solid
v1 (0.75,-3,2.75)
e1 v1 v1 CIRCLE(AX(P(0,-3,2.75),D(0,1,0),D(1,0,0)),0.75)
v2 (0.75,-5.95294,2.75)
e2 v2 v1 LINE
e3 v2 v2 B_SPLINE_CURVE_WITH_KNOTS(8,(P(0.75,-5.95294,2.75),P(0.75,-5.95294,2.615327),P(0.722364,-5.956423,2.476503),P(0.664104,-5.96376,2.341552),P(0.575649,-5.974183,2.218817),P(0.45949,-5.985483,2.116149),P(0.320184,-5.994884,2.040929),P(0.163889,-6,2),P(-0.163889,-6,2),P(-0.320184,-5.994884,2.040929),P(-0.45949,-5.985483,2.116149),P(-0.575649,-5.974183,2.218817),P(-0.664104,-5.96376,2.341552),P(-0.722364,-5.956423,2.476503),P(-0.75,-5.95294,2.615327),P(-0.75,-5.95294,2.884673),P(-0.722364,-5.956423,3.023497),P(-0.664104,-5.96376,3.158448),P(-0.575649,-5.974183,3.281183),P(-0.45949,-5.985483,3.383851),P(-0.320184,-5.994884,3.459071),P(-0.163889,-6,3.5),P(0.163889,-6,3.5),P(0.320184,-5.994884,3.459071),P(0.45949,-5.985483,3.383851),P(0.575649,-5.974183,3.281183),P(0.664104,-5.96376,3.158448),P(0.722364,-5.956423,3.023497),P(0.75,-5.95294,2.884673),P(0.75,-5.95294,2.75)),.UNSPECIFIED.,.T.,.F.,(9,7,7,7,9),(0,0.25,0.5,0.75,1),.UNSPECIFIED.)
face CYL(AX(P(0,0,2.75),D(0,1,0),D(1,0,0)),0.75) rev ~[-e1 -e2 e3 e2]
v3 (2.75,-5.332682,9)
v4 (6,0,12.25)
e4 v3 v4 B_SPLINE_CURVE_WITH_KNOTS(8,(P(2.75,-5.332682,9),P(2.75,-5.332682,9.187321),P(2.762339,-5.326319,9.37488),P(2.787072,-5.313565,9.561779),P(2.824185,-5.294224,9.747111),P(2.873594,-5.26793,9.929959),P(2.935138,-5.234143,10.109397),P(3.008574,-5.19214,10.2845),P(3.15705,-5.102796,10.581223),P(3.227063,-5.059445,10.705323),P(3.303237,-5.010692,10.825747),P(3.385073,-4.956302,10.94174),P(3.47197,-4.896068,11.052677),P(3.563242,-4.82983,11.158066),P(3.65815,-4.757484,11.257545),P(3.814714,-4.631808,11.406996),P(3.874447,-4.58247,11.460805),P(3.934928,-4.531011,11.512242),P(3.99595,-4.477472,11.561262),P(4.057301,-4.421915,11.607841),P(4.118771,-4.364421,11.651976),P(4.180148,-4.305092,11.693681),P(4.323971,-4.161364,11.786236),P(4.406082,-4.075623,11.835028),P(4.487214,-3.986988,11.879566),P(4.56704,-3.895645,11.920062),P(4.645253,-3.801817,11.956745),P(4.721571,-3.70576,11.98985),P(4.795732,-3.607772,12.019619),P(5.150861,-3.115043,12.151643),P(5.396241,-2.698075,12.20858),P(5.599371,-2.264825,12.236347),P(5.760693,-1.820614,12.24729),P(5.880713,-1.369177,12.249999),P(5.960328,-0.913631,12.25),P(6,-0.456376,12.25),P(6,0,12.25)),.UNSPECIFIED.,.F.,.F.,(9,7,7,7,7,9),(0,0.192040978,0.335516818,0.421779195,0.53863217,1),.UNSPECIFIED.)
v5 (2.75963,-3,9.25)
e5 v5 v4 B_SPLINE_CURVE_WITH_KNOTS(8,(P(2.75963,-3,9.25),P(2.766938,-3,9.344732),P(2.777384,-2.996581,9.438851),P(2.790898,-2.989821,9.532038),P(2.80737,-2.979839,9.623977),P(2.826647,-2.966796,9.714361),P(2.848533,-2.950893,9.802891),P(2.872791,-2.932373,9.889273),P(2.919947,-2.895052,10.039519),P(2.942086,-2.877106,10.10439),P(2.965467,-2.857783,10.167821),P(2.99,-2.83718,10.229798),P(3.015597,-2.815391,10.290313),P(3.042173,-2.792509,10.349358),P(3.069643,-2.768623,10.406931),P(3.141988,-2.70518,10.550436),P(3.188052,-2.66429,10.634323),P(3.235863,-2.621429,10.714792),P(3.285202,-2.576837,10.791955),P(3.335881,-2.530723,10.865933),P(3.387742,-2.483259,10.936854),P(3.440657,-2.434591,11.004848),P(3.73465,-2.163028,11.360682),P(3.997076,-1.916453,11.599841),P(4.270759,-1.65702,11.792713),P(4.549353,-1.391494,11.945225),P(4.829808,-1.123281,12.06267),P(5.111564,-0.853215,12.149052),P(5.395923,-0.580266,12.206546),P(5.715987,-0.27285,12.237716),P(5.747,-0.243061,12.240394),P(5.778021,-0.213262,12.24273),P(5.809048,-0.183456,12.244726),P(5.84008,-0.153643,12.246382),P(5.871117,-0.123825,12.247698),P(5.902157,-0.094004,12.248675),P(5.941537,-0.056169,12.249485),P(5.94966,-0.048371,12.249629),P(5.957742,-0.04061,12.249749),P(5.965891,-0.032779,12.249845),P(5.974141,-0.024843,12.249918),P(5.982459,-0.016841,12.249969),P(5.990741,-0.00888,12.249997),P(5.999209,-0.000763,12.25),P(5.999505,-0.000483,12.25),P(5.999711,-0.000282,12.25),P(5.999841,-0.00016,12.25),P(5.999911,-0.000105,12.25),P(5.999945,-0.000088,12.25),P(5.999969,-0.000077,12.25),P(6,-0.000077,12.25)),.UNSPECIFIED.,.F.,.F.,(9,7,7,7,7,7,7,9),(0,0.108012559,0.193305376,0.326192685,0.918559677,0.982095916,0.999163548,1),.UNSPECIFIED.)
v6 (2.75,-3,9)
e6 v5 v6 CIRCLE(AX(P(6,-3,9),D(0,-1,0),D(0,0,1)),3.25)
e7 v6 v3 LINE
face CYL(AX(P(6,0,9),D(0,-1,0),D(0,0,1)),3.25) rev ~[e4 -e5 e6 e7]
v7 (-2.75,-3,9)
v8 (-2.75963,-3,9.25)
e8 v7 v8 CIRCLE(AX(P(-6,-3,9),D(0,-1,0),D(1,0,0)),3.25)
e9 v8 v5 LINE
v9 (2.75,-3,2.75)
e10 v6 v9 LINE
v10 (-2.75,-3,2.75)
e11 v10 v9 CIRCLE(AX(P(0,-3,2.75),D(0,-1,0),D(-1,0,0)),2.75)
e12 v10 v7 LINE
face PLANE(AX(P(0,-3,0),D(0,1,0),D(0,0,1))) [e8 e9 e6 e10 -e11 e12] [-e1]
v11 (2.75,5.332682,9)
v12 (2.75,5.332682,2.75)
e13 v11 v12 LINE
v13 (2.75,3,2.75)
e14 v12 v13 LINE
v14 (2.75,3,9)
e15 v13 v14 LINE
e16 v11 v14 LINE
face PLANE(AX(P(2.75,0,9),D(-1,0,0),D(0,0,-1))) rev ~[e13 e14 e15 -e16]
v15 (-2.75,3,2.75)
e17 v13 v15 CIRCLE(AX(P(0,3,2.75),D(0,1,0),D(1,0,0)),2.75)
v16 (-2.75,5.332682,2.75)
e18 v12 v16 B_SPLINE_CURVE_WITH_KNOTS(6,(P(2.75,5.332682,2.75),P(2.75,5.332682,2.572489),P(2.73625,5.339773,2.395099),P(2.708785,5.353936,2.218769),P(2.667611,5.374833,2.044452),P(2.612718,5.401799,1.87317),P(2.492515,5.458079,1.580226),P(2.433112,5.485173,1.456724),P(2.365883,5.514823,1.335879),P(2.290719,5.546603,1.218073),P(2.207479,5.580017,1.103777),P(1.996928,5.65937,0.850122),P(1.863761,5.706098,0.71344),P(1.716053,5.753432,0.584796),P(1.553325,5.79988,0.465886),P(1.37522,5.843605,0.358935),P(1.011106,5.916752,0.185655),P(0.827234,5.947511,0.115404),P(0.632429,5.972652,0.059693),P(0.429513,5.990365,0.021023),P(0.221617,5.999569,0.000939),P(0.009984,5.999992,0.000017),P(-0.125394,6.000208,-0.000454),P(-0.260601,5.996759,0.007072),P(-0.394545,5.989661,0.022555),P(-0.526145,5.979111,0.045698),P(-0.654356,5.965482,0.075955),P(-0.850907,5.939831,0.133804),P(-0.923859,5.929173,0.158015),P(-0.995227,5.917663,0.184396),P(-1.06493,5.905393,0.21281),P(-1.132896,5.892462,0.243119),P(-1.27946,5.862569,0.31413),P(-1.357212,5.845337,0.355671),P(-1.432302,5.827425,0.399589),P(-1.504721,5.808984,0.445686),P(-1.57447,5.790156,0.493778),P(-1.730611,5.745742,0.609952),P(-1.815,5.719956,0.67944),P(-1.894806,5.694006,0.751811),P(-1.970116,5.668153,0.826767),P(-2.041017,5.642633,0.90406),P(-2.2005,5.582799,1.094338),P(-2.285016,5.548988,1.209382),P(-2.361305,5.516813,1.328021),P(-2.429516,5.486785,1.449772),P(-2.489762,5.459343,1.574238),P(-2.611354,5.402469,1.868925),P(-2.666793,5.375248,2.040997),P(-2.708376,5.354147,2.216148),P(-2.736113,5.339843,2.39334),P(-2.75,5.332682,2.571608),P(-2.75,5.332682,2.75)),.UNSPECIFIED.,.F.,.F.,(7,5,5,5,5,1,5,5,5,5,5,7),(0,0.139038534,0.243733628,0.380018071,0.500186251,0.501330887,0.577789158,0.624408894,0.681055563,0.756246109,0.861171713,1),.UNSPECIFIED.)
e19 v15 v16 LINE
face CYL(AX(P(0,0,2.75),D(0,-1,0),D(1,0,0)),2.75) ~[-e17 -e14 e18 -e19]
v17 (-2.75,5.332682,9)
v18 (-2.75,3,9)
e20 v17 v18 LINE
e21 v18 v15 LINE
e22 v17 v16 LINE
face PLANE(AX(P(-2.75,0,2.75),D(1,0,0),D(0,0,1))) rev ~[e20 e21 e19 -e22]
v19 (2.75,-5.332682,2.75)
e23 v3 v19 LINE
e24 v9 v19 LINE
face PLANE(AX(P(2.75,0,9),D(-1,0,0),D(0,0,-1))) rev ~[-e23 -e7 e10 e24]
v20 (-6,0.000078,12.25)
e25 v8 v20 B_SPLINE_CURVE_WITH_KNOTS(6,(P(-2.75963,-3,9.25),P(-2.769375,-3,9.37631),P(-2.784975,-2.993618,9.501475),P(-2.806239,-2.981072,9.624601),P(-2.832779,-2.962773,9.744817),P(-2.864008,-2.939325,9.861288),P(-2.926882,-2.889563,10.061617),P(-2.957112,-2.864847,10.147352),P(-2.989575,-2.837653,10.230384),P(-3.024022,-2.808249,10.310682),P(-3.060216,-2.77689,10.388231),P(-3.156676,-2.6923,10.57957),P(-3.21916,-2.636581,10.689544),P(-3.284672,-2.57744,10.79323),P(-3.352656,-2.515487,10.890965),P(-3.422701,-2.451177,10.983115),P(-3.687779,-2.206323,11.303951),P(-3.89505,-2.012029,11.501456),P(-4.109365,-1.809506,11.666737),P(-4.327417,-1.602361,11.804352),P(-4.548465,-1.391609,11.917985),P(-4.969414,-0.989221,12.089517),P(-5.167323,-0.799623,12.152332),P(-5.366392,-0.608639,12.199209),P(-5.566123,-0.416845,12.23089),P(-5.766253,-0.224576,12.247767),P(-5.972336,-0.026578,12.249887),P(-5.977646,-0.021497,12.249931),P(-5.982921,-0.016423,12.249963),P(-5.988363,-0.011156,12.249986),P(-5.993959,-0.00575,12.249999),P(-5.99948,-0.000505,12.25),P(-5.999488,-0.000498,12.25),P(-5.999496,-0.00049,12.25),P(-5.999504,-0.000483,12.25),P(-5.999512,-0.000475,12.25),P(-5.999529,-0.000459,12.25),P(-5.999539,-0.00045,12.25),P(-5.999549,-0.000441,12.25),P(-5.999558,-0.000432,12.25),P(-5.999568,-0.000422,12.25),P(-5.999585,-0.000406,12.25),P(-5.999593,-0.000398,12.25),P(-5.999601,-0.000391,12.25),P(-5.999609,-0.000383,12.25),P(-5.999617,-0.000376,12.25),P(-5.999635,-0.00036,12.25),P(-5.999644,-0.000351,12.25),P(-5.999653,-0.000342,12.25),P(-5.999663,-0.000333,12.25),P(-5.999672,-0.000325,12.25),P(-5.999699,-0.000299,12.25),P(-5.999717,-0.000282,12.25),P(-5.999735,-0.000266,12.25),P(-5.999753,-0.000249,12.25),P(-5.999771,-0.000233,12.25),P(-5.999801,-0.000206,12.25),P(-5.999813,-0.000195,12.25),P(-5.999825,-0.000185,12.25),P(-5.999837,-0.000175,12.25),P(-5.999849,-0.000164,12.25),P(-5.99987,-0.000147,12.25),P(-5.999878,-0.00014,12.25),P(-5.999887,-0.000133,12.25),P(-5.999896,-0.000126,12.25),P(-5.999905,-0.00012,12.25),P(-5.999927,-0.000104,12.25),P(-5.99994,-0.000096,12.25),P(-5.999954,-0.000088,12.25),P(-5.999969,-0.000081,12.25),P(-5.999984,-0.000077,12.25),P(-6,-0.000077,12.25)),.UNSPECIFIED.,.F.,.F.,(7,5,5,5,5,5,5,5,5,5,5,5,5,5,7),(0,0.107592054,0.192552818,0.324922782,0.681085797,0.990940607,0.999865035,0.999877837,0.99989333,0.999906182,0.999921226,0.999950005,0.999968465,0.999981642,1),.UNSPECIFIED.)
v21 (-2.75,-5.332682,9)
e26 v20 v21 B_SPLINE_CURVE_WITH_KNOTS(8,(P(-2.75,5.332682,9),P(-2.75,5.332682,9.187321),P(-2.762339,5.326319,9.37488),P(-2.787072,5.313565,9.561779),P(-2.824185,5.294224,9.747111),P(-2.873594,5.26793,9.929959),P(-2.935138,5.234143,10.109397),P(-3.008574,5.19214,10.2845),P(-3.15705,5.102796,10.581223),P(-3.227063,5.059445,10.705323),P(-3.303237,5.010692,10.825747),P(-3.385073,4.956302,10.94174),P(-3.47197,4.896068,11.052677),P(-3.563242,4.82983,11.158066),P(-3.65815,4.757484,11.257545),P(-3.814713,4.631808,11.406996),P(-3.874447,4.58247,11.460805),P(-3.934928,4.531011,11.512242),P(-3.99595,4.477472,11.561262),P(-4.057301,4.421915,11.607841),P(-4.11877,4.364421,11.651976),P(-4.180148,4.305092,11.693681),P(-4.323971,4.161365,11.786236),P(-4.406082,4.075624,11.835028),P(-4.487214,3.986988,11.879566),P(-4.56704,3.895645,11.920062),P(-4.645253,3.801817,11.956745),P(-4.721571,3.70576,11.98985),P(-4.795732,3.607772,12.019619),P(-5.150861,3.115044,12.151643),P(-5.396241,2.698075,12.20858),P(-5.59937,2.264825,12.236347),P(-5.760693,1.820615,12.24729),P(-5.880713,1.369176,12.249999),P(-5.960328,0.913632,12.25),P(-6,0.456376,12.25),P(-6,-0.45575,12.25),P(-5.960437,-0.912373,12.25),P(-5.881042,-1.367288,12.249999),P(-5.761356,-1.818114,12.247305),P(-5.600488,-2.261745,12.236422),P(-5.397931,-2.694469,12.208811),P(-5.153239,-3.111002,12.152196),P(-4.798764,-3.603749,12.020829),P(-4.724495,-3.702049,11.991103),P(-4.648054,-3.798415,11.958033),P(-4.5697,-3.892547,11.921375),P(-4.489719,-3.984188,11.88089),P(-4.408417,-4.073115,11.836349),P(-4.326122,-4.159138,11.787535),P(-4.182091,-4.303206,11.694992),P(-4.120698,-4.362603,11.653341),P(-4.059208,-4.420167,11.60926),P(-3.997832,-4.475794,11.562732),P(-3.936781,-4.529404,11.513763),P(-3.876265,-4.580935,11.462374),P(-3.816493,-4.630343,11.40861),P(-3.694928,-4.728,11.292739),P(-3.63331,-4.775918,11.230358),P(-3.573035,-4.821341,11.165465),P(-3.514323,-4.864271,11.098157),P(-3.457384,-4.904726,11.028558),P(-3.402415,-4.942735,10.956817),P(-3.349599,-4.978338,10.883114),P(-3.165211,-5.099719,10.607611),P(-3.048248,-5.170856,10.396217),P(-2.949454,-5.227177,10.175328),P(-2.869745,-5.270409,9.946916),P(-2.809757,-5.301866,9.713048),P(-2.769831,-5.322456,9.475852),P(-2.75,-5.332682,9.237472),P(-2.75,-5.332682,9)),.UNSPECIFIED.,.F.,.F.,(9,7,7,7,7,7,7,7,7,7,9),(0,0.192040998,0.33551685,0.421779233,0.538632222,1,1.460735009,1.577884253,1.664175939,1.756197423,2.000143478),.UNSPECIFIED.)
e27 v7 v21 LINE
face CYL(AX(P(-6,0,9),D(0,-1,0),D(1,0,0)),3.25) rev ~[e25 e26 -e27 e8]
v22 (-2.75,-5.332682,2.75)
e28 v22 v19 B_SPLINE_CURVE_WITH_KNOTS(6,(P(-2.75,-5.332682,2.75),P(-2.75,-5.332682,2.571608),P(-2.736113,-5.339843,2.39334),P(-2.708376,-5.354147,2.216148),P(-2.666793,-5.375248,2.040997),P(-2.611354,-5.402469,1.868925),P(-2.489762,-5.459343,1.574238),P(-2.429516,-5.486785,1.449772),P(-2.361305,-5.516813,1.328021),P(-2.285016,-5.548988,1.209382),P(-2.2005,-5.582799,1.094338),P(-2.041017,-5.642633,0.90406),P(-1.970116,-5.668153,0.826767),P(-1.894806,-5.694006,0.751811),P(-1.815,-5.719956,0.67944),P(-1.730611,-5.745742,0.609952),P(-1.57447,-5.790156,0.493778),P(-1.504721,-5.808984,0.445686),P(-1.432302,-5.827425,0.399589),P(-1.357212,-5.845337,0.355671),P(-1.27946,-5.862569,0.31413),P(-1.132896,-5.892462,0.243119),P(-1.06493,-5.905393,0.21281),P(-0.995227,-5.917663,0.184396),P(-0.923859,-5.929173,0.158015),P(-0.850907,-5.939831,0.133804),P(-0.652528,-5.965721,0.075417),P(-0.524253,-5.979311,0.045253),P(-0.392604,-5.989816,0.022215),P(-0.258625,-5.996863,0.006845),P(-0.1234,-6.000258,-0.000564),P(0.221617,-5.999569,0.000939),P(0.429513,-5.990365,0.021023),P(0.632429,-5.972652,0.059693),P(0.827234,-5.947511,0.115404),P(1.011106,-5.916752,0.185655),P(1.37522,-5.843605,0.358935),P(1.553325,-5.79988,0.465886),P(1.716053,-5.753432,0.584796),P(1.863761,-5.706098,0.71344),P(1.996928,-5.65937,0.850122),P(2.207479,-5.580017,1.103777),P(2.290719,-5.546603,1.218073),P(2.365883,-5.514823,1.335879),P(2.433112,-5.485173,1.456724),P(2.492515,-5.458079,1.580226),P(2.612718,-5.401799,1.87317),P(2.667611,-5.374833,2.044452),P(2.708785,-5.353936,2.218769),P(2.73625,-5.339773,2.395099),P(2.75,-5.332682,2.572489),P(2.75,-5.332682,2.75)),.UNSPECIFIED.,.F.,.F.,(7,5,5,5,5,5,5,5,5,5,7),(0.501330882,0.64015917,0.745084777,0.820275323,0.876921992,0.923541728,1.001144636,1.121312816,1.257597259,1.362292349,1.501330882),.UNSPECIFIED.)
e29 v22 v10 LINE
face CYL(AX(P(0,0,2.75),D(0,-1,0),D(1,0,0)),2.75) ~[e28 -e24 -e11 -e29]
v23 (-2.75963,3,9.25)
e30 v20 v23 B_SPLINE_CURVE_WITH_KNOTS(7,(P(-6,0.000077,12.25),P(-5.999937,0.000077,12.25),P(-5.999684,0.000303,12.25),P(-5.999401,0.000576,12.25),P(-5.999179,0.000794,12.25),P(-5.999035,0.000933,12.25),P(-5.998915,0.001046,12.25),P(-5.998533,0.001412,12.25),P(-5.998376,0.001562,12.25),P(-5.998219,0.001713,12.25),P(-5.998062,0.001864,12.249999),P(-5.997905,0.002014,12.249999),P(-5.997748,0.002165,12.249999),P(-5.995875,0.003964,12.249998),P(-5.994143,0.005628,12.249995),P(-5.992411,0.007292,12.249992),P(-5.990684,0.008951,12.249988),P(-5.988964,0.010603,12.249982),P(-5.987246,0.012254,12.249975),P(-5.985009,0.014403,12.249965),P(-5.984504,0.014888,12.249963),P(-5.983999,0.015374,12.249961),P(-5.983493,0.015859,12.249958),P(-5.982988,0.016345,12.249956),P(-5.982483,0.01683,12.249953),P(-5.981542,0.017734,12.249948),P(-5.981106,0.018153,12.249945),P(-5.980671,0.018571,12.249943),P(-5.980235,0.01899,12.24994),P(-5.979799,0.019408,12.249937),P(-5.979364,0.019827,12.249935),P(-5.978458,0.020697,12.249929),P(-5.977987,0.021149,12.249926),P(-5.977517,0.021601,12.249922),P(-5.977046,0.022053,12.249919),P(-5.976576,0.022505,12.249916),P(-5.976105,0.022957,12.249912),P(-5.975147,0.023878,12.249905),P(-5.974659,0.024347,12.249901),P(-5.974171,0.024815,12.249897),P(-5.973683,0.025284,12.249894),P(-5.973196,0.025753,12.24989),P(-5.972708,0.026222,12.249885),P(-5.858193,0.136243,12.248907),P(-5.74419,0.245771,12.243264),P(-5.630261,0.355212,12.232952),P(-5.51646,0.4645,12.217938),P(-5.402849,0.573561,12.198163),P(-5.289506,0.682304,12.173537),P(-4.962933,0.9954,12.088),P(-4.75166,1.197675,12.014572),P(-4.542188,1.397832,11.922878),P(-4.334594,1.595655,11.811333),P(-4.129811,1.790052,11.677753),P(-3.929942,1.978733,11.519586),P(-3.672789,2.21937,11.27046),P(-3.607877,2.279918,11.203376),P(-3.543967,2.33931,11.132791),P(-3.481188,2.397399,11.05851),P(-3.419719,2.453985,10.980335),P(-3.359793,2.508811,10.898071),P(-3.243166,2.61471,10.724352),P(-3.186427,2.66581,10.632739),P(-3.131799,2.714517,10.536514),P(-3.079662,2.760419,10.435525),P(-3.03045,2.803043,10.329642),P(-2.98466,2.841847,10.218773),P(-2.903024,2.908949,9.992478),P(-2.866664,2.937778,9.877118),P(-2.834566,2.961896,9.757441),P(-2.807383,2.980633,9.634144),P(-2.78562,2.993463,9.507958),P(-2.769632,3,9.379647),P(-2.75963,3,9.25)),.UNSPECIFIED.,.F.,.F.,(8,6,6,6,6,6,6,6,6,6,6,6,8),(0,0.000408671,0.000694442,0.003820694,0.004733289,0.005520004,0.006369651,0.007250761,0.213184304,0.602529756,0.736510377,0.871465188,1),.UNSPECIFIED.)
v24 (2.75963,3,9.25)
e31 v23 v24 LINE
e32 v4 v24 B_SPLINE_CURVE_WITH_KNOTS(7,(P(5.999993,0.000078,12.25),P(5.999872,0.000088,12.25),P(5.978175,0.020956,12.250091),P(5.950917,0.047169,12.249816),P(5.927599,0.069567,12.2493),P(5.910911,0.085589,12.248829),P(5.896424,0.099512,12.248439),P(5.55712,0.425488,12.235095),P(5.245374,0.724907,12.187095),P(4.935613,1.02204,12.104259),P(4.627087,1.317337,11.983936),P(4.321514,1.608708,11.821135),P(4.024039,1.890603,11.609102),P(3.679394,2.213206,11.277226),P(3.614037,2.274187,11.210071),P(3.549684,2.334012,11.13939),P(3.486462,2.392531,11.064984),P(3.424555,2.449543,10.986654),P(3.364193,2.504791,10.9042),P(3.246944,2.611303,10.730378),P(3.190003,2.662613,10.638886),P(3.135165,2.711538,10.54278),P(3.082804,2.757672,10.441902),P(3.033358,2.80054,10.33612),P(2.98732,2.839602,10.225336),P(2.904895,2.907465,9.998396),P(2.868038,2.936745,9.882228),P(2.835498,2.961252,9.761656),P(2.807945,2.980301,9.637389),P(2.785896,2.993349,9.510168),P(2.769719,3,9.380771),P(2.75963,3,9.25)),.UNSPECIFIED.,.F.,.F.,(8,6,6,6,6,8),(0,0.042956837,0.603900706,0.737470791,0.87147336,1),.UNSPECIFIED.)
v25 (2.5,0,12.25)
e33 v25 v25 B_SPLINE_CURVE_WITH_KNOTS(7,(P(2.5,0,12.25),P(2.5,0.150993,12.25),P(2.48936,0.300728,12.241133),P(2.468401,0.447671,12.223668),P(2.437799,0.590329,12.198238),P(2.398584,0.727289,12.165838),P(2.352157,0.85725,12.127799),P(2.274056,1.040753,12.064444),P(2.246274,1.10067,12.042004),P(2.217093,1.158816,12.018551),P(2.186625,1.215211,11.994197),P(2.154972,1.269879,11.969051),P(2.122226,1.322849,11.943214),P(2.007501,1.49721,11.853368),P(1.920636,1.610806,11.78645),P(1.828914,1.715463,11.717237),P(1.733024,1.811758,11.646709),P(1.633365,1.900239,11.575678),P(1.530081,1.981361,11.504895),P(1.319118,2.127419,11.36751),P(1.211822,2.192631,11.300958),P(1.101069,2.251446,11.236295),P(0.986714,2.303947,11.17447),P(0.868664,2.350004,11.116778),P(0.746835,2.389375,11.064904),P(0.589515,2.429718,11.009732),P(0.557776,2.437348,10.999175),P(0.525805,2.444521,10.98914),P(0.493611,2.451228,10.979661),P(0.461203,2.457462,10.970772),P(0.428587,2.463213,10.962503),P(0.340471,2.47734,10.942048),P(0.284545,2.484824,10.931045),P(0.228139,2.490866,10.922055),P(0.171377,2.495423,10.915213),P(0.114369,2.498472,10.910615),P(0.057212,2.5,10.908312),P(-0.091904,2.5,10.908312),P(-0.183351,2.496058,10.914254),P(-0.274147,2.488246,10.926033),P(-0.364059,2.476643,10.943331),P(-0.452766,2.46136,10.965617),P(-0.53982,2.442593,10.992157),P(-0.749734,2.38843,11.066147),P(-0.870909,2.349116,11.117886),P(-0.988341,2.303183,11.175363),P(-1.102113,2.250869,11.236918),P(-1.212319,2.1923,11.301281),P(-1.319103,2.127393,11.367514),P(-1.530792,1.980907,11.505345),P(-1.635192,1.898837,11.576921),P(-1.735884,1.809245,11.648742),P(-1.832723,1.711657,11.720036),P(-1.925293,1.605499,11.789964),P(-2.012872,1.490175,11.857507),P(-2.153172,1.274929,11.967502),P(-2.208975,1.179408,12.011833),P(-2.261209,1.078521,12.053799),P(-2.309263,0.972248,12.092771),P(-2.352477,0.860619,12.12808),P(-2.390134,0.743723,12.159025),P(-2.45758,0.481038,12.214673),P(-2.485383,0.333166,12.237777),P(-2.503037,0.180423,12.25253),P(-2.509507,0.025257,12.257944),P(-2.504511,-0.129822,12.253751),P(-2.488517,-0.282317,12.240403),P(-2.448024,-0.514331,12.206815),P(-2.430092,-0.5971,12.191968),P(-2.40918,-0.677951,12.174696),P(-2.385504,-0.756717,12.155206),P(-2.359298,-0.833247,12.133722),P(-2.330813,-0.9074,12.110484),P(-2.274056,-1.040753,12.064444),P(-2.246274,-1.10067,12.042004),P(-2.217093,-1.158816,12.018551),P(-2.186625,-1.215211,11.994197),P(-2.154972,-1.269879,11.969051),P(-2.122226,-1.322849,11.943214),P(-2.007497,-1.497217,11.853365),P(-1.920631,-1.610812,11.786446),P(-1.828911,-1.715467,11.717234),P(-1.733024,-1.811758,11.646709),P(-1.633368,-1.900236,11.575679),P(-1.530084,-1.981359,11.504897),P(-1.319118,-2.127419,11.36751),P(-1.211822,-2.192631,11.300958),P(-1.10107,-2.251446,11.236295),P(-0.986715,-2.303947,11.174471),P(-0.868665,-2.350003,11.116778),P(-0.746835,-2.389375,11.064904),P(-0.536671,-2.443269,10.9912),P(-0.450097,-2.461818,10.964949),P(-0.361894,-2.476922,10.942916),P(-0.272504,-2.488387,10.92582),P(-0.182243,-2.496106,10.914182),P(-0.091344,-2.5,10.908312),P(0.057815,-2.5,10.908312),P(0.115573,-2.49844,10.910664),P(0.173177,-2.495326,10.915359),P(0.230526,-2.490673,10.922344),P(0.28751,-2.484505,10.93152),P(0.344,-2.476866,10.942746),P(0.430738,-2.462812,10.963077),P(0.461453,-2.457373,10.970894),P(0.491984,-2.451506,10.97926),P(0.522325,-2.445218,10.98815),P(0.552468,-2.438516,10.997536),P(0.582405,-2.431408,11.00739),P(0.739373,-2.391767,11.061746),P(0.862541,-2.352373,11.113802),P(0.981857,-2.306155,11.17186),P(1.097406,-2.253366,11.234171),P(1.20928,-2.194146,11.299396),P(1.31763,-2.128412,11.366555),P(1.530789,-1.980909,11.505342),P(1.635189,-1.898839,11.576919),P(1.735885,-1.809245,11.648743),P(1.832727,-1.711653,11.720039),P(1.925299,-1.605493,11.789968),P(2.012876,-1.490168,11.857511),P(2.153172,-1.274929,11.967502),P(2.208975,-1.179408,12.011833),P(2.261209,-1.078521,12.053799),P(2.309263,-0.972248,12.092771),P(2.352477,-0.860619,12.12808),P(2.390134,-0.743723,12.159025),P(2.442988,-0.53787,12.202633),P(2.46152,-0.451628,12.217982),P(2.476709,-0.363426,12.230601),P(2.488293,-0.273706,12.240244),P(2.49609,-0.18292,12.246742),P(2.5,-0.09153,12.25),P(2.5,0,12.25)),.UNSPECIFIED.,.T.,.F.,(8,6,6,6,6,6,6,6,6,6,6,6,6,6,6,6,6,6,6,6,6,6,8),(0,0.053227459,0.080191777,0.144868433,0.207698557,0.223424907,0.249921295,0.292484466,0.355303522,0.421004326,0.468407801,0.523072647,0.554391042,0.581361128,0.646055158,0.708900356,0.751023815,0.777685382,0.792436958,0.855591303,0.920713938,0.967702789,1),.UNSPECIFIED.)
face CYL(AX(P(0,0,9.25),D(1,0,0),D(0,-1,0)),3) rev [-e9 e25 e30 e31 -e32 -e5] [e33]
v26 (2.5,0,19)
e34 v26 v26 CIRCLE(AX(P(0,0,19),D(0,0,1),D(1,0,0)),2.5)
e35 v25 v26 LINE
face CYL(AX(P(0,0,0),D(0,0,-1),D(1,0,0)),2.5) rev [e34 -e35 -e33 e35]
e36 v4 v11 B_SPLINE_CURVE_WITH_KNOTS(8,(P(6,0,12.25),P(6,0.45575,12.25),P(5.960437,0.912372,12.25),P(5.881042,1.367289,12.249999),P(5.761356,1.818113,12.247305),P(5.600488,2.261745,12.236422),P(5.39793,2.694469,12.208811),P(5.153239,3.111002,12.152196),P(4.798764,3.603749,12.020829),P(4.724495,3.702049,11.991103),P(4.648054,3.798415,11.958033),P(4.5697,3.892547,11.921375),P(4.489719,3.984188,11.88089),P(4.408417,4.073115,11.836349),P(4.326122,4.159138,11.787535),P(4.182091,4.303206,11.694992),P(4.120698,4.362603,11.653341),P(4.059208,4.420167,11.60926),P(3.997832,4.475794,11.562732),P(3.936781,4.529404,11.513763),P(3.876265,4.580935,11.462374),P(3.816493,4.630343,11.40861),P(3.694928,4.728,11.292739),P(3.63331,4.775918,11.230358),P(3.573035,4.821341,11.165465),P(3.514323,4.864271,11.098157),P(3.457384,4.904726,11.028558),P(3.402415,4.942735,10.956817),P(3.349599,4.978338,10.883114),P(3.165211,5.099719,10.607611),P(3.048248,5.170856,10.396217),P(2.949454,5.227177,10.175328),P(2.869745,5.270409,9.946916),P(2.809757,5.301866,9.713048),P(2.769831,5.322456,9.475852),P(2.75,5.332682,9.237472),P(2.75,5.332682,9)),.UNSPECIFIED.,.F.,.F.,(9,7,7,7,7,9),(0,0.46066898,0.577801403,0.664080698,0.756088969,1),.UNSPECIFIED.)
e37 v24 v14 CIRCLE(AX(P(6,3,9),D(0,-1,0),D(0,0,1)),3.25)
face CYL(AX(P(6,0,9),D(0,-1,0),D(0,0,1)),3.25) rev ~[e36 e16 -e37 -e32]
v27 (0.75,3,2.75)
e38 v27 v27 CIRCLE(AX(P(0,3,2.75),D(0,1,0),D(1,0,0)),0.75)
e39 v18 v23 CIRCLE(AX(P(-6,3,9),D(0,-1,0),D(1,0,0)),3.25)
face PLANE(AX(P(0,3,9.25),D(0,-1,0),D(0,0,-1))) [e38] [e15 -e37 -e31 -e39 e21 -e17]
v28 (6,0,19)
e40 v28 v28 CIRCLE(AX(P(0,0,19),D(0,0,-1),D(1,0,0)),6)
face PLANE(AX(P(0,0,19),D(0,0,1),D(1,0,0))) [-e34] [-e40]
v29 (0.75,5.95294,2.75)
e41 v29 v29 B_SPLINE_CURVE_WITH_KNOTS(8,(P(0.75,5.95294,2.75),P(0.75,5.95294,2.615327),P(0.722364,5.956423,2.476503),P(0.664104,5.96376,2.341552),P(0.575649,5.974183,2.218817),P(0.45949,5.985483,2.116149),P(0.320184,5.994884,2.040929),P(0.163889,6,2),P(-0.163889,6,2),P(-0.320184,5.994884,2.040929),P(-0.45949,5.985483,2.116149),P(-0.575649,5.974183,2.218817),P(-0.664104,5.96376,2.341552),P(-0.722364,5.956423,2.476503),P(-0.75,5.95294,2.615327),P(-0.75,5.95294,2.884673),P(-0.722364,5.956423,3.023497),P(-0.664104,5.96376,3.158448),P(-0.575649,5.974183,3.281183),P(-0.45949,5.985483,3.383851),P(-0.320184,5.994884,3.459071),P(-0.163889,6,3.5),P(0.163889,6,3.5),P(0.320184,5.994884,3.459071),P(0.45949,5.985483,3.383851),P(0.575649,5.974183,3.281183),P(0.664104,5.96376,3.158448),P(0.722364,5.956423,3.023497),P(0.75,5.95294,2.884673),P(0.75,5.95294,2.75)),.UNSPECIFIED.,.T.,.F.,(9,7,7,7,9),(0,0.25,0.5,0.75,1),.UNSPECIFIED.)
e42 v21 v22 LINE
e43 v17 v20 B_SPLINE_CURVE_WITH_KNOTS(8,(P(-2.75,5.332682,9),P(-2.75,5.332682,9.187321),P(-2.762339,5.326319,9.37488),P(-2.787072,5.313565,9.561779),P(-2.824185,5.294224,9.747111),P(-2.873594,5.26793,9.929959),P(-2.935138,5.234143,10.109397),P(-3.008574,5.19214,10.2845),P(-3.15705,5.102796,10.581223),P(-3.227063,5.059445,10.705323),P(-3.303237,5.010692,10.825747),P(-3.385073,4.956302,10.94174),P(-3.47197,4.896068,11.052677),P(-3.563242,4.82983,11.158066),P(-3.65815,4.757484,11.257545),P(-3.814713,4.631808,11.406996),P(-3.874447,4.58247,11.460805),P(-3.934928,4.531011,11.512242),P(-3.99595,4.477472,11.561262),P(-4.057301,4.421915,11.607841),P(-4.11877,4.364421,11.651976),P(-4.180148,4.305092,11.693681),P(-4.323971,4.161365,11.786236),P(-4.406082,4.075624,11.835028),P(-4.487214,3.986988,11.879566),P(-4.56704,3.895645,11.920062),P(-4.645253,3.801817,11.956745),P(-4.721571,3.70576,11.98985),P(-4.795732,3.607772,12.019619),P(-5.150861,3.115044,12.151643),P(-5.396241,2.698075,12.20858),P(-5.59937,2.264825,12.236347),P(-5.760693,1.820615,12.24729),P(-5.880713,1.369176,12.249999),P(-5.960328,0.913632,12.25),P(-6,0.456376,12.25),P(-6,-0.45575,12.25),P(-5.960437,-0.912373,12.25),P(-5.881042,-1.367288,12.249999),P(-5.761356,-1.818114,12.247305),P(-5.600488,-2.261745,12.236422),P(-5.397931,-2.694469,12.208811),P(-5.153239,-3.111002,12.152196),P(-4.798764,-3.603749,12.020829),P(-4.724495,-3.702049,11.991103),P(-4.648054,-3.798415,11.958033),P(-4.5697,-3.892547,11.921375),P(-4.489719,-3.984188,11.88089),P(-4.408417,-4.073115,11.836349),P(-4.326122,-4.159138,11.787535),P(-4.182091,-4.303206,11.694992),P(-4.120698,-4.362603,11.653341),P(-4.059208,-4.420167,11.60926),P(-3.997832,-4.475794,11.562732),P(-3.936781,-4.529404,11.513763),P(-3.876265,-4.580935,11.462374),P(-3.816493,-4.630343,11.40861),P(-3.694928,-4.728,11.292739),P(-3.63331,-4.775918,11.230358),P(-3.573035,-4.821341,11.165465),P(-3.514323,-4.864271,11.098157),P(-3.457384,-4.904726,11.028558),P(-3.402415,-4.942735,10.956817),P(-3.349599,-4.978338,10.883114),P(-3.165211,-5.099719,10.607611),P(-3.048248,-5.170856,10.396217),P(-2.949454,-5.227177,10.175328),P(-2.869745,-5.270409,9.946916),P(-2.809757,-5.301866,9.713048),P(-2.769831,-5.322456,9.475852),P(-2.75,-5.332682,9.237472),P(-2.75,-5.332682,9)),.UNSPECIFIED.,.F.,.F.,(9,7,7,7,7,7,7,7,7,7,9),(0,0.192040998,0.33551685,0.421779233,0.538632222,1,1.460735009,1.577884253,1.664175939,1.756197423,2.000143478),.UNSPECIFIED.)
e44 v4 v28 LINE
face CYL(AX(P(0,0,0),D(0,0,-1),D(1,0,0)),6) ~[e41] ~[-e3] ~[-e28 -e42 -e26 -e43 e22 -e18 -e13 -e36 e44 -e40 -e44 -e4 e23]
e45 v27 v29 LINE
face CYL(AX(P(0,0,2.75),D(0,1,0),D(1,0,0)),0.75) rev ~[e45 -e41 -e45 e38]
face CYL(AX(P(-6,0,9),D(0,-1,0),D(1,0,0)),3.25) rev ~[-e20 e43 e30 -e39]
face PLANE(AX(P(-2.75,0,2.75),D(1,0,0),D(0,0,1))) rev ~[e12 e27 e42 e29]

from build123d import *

# Parameters (mm, degrees)
SKETCH_1_R          = 6
SKETCH_1_R_2        = 2.5
EXTRUDE_1_DEPTH     = 19
SKETCH_2_OUTSIDE_W  = 19.096
SKETCH_2_OUTSIDE_H  = 26.096
SKETCH_2_OUTSIDE_R  = 0.75
CUT_EXTRUDE_1_DEPTH = 9.5
CUT_EXTRUDE_2_DEPTH = 9.5


with BuildPart() as part:
    # 草图1 → 凸台-拉伸1 (new body)
    with BuildSketch(Plane.XY):
        Circle(SKETCH_1_R)
        Circle(SKETCH_1_R_2, mode=Mode.SUBTRACT)
    extrude(amount=EXTRUDE_1_DEPTH)

    # 草图2 outside → 切除-拉伸1 (cut, symmetric)
    with BuildSketch(Plane(origin=(0, 0, 0), x_dir=(1, 0, 0), z_dir=(0, 1, 0))):
        with Locations((0, -9.5)):
            Rectangle(SKETCH_2_OUTSIDE_W, SKETCH_2_OUTSIDE_H)
        with BuildLine():
            Line((-2.75, -2.75), (-2.75, -9))
            ThreePointArc((-2.75, -9), (-3.701902961, -11.298097039), (-6, -12.25))
            Line((-6, -12.25), (-6, -19))
            Line((-6, -19), (6, -19))
            Line((6, -19), (6, -12.25))
            ThreePointArc((6, -12.25), (3.701902961, -11.298097039), (2.75, -9))
            Line((2.75, -9), (2.75, -2.75))
            ThreePointArc((2.75, -2.75), (0, 0), (-2.75, -2.75))
        make_face(mode=Mode.SUBTRACT)
        with Locations((0, -2.75)):
            Circle(SKETCH_2_OUTSIDE_R)
    extrude(amount=CUT_EXTRUDE_1_DEPTH, both=True, mode=Mode.SUBTRACT)

    # 草图3 → 切除-拉伸2 (cut, symmetric)
    with BuildSketch(Plane(origin=(0, 0, 0), x_dir=(0, 0, -1), z_dir=(1, 0, 0))):
        with BuildLine():
            Line((-9.250000001, 3), (0, 3))
            Line((0, 3), (0, -3))
            Line((0, -3), (-9.250000001, -3))
            ThreePointArc((-9.250000001, -3), (-12.250000001, 0), (-9.250000001, 3))
        make_face()
    extrude(amount=CUT_EXTRUDE_2_DEPTH, both=True, mode=Mode.SUBTRACT)


solid = part.part
